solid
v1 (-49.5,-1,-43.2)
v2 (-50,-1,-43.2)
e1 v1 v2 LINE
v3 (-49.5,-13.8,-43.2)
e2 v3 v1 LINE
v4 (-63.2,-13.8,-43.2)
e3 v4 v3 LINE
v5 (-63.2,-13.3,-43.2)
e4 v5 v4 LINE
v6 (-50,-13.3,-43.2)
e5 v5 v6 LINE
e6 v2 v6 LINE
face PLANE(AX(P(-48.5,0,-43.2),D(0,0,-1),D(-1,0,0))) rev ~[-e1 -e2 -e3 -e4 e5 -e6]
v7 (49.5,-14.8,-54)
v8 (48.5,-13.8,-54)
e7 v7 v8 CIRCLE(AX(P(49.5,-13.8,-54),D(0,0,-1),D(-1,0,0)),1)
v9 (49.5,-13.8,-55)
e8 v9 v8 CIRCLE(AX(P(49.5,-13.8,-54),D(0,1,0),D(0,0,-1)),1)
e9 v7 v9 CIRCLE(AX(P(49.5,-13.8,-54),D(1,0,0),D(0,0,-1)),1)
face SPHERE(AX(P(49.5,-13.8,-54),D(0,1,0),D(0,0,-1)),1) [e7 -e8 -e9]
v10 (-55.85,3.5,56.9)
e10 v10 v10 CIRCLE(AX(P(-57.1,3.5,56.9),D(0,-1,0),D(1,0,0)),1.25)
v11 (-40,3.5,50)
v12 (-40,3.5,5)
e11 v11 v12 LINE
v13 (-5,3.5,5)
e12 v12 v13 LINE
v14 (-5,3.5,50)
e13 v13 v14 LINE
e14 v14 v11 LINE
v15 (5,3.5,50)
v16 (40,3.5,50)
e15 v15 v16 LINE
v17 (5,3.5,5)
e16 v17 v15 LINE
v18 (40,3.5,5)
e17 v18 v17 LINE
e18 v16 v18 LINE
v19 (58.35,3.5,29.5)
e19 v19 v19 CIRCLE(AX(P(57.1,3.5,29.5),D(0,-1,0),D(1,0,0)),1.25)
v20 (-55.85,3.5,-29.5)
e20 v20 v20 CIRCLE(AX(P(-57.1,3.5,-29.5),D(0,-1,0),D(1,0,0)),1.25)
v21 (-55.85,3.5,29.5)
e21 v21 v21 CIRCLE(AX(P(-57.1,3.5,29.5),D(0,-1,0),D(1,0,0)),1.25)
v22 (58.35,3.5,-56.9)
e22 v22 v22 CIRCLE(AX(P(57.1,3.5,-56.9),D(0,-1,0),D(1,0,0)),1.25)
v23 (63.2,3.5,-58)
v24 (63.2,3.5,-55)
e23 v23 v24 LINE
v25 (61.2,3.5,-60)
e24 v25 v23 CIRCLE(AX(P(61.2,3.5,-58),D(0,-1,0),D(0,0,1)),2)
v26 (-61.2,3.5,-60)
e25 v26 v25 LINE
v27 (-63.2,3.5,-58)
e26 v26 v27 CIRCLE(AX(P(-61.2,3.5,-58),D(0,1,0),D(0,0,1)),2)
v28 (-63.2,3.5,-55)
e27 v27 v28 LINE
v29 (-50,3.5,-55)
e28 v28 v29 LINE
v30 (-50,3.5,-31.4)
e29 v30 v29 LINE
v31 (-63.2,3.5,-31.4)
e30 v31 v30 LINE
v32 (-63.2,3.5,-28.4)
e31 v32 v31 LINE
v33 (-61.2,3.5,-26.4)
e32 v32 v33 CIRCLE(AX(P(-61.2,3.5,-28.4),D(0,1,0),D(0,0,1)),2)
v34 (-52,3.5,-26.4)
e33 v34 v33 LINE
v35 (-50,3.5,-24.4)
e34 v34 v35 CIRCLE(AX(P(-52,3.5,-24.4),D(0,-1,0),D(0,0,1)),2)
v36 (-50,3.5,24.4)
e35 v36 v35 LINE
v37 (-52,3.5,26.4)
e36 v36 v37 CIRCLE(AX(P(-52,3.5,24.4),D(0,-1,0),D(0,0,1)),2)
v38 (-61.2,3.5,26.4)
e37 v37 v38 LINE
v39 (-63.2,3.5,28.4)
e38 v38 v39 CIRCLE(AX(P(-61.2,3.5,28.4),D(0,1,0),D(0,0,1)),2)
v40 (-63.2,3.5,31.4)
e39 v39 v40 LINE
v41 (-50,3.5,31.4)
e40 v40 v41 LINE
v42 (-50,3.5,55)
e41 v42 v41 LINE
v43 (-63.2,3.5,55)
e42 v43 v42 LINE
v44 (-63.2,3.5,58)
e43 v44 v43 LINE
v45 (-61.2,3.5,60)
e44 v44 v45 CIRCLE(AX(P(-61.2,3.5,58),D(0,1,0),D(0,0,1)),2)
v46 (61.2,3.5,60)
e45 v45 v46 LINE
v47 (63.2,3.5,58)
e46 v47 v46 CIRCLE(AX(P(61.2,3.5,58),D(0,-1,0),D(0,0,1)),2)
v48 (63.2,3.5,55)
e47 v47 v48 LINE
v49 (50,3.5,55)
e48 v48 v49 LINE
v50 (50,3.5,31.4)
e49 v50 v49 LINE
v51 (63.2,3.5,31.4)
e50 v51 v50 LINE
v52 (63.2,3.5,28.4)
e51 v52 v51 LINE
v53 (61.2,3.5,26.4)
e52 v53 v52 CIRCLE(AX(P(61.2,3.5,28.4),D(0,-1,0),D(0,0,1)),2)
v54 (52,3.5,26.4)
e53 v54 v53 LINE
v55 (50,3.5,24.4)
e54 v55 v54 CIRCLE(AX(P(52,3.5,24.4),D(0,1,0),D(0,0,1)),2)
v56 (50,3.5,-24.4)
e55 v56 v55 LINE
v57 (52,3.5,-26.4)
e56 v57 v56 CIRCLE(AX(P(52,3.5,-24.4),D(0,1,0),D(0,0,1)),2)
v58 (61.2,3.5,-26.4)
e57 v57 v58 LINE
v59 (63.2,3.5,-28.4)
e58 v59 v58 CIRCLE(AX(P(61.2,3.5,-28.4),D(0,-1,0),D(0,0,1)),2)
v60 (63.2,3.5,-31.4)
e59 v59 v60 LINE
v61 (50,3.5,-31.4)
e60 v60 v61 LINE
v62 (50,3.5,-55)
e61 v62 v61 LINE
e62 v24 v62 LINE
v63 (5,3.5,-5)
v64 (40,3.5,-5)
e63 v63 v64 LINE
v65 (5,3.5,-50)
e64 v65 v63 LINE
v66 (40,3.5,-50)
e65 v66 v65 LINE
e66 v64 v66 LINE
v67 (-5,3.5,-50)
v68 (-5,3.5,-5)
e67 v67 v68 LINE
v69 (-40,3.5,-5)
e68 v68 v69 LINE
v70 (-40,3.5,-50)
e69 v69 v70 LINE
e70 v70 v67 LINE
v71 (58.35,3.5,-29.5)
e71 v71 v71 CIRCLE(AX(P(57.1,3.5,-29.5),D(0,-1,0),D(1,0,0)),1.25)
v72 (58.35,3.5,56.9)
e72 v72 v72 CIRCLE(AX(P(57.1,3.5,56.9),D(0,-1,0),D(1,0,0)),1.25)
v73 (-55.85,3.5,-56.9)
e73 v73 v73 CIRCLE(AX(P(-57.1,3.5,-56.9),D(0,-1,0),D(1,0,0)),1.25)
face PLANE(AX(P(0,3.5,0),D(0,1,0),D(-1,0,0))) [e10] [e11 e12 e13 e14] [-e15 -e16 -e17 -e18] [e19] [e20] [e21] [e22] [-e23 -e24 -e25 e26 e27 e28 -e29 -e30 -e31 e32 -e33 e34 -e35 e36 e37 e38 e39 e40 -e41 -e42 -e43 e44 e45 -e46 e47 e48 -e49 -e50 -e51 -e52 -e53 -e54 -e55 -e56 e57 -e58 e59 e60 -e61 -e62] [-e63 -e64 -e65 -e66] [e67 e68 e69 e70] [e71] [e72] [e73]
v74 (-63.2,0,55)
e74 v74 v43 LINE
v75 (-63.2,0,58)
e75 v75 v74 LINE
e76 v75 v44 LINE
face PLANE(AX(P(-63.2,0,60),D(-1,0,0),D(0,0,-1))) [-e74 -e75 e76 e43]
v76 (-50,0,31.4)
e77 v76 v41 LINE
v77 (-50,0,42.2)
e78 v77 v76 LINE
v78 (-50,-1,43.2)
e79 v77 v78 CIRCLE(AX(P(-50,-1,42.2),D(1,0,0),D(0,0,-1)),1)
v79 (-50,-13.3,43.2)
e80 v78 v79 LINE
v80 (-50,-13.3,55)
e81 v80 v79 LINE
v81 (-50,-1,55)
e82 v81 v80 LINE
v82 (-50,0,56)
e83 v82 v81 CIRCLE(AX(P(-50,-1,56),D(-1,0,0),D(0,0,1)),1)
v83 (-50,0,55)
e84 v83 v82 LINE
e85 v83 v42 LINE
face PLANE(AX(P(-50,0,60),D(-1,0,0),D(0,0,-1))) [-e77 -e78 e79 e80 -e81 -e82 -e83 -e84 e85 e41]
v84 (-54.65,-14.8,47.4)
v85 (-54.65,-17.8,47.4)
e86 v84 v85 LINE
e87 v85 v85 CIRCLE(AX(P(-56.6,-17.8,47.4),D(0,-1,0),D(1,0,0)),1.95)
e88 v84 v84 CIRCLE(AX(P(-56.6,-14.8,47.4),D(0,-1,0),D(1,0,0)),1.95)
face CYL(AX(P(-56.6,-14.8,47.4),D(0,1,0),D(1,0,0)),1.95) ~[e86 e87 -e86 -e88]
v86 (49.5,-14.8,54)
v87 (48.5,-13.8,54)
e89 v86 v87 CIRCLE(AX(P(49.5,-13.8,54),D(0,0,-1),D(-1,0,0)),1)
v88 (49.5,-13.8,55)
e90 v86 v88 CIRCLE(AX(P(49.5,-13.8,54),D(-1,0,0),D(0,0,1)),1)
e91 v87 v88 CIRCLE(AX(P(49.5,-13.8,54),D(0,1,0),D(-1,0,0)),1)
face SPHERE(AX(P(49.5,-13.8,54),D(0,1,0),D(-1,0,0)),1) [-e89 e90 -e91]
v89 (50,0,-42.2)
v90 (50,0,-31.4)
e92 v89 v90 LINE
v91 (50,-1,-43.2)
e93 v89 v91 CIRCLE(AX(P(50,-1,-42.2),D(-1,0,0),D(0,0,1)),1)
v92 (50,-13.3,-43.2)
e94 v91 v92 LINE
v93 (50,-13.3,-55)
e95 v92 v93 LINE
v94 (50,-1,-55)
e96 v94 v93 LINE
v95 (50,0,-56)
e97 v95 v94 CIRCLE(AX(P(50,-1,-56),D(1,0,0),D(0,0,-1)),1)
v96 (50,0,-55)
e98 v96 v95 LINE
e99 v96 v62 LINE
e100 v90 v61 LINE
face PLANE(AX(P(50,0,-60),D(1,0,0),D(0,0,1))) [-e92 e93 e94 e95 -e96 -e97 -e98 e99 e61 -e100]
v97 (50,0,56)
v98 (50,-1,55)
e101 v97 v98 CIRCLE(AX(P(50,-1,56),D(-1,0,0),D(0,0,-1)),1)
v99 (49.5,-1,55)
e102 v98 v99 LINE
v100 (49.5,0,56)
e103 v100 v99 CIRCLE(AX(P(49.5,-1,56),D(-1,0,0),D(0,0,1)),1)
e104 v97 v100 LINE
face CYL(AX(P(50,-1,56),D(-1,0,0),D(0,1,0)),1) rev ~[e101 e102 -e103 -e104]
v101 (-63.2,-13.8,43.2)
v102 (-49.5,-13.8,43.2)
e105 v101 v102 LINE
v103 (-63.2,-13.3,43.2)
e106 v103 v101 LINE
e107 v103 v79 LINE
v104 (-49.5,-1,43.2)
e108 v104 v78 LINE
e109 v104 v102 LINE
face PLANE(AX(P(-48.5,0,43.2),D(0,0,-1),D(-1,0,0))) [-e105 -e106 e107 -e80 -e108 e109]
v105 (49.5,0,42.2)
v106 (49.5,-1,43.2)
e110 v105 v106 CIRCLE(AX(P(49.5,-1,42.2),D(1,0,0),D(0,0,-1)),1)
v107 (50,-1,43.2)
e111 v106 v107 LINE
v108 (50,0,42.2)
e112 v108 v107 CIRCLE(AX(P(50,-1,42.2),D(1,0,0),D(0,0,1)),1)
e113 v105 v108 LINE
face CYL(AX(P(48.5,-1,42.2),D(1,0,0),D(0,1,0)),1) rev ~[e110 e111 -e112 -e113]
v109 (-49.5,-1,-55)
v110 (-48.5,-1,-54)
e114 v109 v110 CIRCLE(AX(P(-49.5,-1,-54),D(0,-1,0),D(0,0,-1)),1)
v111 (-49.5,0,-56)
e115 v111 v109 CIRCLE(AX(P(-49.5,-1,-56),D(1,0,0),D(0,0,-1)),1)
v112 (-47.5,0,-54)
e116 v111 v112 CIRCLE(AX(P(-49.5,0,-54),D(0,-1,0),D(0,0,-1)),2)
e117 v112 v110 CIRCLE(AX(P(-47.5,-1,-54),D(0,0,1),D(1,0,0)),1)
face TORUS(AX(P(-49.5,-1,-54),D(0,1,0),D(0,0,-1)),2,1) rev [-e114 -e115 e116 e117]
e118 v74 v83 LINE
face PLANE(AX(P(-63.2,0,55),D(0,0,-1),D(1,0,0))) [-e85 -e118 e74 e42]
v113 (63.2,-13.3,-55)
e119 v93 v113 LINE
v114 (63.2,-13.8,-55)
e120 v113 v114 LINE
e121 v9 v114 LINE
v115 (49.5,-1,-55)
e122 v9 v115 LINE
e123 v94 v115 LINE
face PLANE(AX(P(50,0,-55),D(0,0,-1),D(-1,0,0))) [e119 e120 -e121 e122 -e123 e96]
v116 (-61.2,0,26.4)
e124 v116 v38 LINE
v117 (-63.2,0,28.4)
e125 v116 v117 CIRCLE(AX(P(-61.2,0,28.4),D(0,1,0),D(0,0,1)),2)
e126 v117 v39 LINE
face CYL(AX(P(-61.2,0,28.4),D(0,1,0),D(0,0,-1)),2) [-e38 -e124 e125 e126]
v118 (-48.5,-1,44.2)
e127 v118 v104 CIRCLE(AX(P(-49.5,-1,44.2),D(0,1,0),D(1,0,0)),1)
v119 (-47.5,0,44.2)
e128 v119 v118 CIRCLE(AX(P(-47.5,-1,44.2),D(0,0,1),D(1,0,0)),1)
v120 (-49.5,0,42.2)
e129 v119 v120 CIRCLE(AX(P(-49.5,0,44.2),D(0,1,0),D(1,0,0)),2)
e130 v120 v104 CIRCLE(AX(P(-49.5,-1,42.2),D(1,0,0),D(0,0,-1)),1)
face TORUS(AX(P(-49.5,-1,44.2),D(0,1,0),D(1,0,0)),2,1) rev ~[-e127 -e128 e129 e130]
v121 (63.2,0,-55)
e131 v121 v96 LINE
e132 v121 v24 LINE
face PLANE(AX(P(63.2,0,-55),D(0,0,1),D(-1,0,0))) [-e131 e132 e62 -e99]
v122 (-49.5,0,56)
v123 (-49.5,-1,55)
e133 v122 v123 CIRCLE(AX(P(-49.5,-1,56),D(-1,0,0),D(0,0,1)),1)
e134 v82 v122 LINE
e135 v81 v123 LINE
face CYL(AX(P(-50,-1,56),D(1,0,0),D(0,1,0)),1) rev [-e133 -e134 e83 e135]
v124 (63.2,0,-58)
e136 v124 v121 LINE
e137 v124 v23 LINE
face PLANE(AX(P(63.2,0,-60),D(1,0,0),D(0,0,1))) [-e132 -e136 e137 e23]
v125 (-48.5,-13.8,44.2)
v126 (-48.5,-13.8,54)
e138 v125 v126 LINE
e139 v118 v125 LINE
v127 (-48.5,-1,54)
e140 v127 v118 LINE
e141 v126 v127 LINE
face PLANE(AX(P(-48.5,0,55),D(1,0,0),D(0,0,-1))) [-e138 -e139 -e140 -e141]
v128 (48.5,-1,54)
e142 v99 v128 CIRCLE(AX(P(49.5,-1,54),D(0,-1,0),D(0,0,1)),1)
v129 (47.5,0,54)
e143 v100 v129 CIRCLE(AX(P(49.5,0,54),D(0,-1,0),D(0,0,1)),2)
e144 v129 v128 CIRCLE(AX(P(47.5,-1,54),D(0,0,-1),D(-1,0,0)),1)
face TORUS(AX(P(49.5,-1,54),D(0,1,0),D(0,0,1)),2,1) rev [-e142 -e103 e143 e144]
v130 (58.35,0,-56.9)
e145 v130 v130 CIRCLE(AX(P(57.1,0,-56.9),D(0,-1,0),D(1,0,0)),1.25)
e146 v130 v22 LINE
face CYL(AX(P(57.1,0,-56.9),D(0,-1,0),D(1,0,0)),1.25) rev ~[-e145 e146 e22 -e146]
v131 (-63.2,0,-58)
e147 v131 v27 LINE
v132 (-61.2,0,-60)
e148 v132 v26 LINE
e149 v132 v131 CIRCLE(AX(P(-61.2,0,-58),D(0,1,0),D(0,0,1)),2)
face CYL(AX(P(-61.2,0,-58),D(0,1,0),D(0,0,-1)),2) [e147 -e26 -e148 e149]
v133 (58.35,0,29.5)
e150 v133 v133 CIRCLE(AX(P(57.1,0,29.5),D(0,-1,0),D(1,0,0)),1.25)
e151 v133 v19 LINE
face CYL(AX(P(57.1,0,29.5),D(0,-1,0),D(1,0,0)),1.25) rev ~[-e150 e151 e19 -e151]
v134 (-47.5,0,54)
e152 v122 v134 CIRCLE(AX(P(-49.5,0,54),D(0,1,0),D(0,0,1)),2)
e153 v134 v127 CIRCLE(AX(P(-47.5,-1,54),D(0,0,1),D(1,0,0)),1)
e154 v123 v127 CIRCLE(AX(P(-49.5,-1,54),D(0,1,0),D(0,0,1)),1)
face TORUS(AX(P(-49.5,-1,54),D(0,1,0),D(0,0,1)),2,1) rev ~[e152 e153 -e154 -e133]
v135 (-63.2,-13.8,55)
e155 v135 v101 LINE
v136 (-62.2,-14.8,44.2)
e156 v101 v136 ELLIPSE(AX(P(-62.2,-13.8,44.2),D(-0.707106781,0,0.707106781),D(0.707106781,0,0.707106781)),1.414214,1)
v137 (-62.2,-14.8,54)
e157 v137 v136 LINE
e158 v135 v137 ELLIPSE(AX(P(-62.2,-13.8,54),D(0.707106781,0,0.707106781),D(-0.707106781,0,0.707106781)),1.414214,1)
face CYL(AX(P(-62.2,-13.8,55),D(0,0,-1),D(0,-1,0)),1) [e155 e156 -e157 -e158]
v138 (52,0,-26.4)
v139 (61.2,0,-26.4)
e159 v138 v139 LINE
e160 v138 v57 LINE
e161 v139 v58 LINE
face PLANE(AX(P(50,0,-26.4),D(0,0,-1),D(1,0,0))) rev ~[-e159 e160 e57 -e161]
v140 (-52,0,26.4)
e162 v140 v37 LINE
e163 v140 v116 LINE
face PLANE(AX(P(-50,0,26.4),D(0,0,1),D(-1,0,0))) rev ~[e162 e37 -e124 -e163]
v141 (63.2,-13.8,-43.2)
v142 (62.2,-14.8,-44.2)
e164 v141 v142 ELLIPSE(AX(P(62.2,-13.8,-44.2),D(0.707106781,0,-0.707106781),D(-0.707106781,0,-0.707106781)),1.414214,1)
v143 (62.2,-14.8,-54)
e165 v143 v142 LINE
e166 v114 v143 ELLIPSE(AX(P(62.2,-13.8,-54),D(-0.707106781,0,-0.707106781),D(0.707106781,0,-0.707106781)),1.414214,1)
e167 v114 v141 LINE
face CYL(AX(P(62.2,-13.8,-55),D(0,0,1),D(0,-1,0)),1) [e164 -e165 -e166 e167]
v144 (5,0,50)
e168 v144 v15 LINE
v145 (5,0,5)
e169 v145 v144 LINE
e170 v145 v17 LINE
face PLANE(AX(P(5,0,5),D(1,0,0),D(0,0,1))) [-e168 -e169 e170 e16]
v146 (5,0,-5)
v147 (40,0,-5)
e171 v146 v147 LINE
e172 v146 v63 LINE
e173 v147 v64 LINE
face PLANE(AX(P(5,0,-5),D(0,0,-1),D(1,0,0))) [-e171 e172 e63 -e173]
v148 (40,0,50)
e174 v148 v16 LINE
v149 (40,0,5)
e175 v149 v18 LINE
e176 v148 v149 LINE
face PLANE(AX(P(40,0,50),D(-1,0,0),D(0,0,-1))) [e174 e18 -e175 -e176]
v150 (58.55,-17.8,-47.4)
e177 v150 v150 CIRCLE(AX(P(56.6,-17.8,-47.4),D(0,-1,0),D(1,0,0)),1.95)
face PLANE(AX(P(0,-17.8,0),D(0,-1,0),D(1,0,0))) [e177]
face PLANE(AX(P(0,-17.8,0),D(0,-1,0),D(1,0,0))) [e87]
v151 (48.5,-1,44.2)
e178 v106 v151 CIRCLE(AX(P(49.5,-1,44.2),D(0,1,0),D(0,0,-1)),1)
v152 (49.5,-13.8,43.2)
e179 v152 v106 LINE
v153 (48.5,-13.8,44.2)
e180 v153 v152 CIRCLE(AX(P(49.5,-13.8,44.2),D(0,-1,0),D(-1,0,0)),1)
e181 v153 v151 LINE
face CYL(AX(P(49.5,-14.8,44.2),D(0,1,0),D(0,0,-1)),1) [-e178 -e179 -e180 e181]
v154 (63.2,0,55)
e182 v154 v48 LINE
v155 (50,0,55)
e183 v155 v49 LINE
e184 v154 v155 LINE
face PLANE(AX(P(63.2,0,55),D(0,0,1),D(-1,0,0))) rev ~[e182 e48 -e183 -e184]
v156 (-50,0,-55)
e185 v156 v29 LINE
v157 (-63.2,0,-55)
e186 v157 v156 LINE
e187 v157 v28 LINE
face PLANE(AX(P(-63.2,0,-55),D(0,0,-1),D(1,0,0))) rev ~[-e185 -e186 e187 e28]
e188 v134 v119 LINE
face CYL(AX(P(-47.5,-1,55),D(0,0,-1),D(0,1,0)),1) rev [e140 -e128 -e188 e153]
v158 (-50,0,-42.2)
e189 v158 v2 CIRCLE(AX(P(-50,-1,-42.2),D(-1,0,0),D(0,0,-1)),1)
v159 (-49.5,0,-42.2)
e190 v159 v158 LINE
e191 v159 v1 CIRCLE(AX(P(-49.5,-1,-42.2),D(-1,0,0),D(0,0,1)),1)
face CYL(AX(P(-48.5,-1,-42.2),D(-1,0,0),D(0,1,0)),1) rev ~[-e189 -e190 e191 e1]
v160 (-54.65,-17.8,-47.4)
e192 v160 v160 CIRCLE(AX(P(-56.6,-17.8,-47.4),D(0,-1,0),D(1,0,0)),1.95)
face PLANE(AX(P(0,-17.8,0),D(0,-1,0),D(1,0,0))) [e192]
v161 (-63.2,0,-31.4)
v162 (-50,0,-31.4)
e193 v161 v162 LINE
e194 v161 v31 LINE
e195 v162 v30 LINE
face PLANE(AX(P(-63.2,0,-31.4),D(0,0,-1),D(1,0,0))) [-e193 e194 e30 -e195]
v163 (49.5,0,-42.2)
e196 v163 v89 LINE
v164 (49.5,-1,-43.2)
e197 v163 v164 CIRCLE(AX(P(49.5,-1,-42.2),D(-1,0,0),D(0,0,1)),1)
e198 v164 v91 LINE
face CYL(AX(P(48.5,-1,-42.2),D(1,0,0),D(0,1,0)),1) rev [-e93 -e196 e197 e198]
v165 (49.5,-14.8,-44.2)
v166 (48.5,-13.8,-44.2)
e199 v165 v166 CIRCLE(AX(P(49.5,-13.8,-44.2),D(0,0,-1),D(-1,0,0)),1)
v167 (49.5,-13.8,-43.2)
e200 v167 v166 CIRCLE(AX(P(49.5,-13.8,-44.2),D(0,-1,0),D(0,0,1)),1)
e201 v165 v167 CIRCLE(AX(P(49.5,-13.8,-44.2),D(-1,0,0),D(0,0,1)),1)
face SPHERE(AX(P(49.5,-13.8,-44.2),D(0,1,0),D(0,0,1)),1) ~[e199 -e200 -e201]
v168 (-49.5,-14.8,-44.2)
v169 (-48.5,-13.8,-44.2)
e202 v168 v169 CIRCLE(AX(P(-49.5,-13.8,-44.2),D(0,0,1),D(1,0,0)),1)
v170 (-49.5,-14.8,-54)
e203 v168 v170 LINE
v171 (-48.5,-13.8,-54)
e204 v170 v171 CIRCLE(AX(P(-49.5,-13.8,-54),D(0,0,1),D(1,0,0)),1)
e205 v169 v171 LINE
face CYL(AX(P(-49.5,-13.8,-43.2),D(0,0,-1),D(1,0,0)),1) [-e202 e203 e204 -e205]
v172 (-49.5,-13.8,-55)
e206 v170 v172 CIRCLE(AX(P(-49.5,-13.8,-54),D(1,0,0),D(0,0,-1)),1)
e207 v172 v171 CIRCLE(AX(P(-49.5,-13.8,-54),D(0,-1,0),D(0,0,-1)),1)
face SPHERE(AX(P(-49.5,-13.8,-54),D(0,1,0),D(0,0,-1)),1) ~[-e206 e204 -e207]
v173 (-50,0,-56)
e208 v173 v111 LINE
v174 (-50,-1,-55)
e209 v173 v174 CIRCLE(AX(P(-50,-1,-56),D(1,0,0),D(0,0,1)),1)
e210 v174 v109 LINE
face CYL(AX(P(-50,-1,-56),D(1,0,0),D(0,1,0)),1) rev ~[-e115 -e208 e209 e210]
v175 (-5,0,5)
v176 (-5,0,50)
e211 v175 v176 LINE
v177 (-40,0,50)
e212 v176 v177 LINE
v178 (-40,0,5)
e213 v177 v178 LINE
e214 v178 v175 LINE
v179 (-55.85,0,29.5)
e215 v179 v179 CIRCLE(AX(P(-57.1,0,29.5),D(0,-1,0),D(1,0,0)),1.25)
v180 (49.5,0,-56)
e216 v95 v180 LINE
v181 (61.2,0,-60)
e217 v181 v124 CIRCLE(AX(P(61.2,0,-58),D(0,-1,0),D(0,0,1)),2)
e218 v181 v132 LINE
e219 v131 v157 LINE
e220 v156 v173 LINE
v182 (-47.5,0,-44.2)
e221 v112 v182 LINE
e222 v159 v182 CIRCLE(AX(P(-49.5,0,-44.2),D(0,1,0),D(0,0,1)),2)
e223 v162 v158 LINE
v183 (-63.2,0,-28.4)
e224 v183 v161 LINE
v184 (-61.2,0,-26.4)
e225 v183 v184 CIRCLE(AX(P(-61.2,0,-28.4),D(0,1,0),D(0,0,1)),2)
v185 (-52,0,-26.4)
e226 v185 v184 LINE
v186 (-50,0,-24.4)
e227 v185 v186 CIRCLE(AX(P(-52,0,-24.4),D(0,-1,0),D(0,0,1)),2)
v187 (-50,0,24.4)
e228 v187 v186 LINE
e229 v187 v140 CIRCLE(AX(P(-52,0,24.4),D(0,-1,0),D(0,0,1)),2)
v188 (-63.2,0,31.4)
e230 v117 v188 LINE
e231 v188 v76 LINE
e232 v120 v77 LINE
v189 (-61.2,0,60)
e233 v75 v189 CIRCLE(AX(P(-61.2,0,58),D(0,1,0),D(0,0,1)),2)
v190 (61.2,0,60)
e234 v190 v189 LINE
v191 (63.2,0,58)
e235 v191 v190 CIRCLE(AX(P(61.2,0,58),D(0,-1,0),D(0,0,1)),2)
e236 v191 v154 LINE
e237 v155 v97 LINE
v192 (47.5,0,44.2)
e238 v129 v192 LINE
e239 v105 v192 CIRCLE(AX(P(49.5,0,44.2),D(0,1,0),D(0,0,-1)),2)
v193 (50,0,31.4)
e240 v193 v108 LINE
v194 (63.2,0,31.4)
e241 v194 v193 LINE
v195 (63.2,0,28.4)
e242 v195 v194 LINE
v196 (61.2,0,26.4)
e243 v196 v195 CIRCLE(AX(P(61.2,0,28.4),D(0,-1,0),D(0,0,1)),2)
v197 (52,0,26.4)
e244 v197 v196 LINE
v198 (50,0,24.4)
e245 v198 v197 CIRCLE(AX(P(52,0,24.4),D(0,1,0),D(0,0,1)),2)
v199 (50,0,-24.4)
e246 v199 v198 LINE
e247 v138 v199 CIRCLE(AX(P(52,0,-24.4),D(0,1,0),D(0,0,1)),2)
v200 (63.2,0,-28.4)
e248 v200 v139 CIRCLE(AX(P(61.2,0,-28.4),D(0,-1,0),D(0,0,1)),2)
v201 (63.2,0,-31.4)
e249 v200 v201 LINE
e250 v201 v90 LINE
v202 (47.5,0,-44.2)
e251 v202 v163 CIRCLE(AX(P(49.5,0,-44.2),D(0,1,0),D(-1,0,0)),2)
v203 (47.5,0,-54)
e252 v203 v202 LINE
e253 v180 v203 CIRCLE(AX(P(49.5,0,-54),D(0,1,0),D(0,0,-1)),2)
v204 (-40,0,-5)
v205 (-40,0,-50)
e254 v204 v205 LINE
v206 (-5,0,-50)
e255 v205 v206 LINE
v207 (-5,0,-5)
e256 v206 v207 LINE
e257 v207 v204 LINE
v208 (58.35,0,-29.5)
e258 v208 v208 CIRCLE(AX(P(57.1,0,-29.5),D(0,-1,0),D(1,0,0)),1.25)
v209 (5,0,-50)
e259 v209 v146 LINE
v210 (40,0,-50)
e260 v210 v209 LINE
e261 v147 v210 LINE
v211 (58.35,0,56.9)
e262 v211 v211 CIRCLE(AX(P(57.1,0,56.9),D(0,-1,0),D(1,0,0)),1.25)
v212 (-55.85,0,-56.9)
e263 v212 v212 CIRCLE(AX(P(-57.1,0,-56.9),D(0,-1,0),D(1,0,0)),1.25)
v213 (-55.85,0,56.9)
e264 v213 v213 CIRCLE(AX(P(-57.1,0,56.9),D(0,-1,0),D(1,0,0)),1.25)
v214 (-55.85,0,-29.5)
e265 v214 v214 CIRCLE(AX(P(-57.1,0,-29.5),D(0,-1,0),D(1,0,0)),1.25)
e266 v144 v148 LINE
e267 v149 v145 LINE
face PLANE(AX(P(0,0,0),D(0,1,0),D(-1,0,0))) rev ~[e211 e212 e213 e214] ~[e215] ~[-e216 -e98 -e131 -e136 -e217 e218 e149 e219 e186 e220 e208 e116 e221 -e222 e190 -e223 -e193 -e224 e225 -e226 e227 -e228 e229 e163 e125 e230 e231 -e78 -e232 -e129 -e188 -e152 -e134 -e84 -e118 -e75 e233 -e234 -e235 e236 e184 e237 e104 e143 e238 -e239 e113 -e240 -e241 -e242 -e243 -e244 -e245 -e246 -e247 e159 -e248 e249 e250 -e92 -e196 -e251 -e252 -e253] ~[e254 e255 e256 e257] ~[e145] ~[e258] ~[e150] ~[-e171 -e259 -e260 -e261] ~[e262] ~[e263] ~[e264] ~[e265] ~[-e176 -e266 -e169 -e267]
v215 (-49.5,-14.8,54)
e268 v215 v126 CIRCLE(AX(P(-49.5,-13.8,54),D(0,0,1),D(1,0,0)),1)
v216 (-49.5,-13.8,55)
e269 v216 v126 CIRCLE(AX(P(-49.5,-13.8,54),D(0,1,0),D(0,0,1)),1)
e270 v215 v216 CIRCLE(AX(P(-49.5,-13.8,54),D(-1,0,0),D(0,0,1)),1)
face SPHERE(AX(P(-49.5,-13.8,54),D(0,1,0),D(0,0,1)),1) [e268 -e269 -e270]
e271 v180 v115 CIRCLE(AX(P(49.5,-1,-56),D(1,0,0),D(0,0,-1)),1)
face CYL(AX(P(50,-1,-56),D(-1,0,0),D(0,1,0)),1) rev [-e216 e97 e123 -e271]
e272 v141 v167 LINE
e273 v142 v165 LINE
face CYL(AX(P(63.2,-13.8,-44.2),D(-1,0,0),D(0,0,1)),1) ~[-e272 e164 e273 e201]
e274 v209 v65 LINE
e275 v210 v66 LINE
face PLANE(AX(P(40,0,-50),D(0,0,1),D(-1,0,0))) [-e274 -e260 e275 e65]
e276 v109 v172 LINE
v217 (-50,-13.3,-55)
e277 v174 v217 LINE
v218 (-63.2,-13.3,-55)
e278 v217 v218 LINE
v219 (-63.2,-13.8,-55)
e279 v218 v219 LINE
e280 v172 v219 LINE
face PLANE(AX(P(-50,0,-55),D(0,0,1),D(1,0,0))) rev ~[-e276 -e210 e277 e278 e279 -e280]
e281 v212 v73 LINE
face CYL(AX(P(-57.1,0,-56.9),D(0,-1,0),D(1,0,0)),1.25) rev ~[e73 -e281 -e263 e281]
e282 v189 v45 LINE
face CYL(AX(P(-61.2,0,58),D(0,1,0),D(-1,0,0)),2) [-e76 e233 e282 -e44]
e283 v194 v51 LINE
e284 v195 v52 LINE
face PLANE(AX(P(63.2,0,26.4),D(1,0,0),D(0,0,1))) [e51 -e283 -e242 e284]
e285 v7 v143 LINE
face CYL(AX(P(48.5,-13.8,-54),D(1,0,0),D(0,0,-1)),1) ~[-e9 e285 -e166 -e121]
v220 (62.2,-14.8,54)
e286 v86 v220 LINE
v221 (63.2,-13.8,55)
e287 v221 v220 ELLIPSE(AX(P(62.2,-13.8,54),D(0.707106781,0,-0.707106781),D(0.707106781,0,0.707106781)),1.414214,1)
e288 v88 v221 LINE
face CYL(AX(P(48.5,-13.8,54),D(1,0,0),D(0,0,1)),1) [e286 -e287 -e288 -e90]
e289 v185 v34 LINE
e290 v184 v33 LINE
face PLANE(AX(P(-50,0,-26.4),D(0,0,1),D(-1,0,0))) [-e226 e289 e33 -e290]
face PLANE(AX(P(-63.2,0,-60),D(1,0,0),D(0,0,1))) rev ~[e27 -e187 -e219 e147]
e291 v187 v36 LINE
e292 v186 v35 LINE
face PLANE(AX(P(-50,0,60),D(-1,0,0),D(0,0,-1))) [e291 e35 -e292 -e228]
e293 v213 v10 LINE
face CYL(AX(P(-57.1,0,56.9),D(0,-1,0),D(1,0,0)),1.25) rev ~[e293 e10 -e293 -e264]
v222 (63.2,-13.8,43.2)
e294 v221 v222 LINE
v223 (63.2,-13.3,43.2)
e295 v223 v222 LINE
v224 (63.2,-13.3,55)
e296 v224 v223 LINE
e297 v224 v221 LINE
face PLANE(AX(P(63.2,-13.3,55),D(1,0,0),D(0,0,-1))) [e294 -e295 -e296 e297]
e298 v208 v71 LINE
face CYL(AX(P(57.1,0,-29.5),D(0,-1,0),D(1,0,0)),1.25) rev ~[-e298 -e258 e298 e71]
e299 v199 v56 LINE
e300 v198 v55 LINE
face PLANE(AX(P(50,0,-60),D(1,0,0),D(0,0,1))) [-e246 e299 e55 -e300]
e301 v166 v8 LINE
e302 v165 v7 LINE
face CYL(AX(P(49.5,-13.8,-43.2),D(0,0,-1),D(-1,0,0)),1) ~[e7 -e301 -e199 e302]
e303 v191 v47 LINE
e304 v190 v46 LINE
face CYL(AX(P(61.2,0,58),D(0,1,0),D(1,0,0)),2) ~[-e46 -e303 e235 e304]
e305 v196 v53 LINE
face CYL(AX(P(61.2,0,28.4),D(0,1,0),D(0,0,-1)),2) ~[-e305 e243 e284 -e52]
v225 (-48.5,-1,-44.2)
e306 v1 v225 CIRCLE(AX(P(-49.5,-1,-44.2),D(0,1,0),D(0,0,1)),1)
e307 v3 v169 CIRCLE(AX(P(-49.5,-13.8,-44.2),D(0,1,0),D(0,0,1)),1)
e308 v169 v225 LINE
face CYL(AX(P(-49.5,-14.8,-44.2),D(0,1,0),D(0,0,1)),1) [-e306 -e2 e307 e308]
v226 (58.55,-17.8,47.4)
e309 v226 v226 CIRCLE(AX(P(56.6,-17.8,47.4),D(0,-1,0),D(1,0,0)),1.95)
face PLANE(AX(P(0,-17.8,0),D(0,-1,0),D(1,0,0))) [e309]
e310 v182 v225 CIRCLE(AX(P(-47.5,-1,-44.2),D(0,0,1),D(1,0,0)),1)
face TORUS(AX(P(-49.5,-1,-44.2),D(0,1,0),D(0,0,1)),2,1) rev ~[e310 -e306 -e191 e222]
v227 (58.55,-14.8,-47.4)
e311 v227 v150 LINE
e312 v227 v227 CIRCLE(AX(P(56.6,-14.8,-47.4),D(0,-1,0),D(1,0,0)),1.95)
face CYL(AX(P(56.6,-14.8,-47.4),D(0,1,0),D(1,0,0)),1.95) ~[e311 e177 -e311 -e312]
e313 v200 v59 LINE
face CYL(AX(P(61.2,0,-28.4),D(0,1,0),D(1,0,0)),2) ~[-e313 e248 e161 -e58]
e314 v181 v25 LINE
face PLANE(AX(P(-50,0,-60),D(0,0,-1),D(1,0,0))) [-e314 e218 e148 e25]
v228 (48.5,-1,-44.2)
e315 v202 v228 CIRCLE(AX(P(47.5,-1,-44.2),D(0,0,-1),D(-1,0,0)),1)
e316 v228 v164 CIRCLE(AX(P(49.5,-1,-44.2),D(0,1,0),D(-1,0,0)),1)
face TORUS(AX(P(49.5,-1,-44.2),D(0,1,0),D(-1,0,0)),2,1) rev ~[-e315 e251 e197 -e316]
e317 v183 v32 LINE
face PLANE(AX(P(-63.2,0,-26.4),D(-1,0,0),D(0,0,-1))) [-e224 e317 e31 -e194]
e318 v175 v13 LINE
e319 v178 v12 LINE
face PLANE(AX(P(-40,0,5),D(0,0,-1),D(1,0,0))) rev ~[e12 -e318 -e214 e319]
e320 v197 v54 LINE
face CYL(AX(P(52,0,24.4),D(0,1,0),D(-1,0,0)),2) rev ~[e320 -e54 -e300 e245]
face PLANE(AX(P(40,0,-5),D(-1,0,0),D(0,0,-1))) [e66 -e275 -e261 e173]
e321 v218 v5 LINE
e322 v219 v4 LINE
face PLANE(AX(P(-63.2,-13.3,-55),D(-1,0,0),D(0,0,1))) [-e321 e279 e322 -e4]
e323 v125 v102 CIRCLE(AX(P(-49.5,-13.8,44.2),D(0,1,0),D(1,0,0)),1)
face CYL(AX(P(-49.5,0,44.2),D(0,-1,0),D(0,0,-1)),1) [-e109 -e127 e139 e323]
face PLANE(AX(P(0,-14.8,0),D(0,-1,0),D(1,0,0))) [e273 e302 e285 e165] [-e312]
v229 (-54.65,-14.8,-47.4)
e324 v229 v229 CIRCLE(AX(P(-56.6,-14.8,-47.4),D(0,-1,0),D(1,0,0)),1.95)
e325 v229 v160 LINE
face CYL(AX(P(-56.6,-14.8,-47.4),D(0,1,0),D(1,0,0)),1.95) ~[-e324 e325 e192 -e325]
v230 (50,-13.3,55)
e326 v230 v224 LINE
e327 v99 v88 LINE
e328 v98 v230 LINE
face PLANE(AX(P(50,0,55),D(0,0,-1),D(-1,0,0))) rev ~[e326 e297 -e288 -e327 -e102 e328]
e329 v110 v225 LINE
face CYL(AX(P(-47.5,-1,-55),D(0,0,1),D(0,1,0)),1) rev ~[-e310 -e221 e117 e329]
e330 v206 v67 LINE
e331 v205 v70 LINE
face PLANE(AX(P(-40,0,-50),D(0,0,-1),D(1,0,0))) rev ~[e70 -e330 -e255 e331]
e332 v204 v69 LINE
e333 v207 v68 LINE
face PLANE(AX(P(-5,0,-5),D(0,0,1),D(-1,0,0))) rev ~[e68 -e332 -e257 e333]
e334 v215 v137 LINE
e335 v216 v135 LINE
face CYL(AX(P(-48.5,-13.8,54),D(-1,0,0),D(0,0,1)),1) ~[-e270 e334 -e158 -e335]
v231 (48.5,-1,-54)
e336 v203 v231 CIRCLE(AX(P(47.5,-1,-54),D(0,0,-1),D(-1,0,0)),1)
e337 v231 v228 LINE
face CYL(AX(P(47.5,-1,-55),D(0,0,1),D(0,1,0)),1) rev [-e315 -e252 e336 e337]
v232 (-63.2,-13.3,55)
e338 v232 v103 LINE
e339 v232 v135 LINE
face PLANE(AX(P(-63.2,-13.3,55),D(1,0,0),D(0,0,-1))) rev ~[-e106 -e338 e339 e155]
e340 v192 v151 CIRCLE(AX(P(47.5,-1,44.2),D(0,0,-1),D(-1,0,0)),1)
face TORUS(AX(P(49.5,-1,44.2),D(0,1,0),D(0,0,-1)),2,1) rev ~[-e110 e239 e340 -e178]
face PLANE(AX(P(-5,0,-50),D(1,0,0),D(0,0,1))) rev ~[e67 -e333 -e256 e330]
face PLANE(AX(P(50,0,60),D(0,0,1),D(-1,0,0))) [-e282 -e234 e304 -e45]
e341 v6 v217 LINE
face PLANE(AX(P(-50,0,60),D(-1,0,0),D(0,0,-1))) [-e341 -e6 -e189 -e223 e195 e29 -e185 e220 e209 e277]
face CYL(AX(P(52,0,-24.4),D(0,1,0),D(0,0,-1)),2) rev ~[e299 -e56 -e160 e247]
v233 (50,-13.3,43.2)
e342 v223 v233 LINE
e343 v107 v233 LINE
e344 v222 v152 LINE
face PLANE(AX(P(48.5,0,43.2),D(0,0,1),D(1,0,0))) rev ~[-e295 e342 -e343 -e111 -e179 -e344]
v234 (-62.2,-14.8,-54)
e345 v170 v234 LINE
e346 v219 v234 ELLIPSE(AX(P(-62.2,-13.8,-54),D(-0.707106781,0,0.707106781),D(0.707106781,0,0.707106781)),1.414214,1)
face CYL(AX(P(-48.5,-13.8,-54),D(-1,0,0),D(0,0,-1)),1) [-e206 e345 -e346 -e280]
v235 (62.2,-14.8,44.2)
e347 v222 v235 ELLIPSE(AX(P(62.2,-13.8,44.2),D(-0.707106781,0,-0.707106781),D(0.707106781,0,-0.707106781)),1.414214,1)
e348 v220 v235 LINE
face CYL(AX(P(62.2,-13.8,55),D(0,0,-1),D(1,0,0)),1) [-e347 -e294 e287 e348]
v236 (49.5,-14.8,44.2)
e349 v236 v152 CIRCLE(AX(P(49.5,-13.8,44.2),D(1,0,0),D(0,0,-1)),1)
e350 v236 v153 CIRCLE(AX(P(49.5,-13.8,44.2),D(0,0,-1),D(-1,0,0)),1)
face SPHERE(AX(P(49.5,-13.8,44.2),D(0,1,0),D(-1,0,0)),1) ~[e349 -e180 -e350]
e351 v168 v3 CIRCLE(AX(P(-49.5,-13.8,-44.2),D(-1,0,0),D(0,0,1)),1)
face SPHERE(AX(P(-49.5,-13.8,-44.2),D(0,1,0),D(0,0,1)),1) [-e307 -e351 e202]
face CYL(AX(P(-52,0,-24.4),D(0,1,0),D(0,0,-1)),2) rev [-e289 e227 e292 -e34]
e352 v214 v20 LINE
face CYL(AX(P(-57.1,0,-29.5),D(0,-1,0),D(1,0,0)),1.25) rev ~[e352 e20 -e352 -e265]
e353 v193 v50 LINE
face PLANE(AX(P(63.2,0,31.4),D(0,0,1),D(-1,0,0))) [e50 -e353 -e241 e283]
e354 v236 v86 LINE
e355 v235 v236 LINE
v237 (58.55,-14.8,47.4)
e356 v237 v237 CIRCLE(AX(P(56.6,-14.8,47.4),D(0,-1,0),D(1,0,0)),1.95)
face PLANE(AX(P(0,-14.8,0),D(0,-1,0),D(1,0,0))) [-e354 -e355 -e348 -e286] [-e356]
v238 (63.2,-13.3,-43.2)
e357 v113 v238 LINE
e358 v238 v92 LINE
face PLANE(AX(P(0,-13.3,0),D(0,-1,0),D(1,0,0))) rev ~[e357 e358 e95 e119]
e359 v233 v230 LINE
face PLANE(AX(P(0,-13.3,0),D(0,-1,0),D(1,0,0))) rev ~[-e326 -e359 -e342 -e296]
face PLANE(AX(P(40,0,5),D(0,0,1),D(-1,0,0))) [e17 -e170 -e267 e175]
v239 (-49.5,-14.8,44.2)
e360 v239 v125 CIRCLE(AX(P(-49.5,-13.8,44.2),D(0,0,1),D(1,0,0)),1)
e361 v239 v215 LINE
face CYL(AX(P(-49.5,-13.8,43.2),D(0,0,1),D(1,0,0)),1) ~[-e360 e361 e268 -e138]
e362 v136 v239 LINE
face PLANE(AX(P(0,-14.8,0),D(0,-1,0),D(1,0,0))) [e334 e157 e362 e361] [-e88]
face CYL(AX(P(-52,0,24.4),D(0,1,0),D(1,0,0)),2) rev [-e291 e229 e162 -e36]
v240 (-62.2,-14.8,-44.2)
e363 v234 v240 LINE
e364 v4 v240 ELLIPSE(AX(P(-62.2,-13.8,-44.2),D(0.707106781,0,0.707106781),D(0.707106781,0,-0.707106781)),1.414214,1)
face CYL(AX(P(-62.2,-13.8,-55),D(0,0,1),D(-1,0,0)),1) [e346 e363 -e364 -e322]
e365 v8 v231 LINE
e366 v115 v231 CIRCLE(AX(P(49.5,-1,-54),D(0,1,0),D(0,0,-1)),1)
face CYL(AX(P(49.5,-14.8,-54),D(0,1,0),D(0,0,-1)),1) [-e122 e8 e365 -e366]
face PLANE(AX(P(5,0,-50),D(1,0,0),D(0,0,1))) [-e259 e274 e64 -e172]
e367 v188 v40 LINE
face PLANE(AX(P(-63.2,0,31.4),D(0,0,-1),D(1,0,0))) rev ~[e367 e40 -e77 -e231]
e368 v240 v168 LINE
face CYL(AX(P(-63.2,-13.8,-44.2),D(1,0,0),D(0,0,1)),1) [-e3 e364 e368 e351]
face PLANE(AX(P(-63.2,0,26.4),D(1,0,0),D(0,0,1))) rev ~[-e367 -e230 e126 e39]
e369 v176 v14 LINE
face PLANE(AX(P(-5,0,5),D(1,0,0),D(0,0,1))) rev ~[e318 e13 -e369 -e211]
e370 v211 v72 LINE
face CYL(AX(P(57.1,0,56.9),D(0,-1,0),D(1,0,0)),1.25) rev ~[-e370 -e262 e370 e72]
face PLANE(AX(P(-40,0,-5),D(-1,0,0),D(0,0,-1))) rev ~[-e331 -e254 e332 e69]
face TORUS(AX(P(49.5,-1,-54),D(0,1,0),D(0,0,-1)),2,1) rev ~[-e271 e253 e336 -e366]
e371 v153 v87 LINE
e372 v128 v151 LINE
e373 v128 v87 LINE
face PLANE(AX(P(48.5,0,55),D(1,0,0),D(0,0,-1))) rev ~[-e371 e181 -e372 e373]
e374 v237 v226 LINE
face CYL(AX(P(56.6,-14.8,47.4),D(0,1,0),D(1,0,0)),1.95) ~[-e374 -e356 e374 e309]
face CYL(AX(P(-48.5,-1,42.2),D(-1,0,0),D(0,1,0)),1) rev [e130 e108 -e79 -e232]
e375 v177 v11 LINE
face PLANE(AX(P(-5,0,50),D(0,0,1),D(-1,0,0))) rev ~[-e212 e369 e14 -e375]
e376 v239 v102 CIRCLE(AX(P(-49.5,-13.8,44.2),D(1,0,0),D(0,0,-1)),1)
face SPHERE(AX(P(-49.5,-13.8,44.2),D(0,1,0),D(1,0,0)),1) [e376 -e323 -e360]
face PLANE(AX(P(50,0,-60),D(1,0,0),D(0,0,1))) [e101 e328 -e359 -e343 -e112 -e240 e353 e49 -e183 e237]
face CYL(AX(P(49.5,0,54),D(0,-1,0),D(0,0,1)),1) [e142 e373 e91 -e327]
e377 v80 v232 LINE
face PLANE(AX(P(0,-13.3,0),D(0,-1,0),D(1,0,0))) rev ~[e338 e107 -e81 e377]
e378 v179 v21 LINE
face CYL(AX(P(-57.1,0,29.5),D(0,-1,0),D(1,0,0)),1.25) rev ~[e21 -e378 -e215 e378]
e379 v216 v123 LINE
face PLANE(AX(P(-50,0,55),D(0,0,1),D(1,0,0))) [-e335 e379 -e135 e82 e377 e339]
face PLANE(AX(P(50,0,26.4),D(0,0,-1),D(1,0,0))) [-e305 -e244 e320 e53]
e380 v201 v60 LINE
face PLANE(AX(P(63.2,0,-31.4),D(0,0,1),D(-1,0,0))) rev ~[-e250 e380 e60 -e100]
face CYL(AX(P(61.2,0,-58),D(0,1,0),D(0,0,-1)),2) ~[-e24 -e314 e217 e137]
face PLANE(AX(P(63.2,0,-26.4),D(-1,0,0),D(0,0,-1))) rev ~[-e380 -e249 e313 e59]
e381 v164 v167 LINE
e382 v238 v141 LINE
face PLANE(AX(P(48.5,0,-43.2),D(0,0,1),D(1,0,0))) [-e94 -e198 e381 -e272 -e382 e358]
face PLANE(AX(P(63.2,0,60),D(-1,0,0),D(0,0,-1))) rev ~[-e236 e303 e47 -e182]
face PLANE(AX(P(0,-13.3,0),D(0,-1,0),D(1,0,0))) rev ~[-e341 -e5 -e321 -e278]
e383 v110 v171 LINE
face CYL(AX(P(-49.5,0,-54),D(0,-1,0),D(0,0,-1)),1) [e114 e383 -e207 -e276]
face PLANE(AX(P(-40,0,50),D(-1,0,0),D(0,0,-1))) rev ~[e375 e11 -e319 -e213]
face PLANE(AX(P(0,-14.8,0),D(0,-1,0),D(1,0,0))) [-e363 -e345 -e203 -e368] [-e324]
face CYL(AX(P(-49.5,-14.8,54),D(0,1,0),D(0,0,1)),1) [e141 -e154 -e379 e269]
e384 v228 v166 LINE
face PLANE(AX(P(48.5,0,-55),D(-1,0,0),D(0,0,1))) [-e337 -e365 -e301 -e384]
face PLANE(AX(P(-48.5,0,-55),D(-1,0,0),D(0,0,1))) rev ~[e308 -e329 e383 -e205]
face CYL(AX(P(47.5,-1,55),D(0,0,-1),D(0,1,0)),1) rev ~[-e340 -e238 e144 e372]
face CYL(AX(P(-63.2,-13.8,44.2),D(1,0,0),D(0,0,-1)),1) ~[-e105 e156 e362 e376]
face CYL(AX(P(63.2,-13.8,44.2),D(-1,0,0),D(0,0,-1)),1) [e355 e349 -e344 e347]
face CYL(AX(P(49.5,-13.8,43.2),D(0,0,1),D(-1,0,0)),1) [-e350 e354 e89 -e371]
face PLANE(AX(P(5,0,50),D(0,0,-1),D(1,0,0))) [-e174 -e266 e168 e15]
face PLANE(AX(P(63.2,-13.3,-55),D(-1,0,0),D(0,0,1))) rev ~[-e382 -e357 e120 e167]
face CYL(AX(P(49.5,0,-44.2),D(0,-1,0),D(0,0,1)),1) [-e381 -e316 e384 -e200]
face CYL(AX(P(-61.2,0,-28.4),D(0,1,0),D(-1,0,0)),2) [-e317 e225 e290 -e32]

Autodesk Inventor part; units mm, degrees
ref_plane "YZ Plane" through (0, 0, 0) normal (1, 0, 0) x (0, 1, 0)
ref_plane "XZ Plane" through (0, 0, 0) normal (0, 1, 0) x (-1, 0, 0)
ref_plane "XY Plane" through (0, 0, 0) normal (0, 0, 1) x (1, 0, 0)
sketch "Szkic1" plane through (0, 0, 0) normal (0, 1, 0) x (-1, 0, 0)
  line L0 (0, 0) -> (50, 0) construction
  line L1 (50, 0) -> (50, -60) construction
  line L2 (50, -60) -> (0, -60) construction
  line L3 (0, -60) -> (0, 0) construction
  line L4 (50, -60) -> (20, -60) construction
  line L5 (20, -60) -> (20, -30) construction
  line L6 (20, -30) -> (50, -30) construction
  line L7 (50, -30) -> (50, -60) construction
  line L8 (20, -30) -> (76.5685, -86.5685) construction
  line L9 (20, -30) -> (100, -30) construction
  line L10 (50, -60) -> (-50, -60)
  line L11 (-50, -60) -> (-50, 60)
  line L12 (-50, 60) -> (50, 60)
  line L13 (50, 60) -> (50, -60)
  dimension "d0" = 50
  dimension "d1" = 60
  dimension "d2" = 30
  dimension "d3" = 30
  dimension "d4" = 80
  dimension "d5" = 45
  dimension "d6" = 100
  dimension "d7" = 120
extrude "Wyciągnięcie proste1" add sketch "Szkic1" along normal blind 3.5
sketch "Szkic2" plane through (0, 0, 0) normal (0, -1, 0) x (1, 0, 0)
  line L0 (-50, 60) -> (-50, -60) construction
  line L1 (50, -60) -> (-50, -60) projected
  line L2 (-50, -60) -> (-63.2, -60)
  line L3 (-63.2, -60) -> (-63.2, -55)
  line L4 (-63.2, -55) -> (-50, -55)
  line L5 (-50, -55) -> (-50, -60)
  line L6 (-57.1, -55) -> (-57.1, -56.9) construction
  circle A0 centre (-57.1, -56.9) radius 1.25
  line L7 (-50, -55) -> (-50, -43.2) construction
  line L8 (-50, -60) -> (-50, 60) construction
  line L9 (-50, -43.2) -> (-68.7012, -43.2) construction
  line L10 (-50, -26.4) -> (-63.2, -26.4)
  line L11 (-63.2, -26.4) -> (-63.2, -31.4)
  line L12 (-63.2, -31.4) -> (-50, -31.4)
  line L13 (-50, -31.4) -> (-50, -26.4)
  line L14 (-57.1, -31.4) -> (-57.1, -29.5) construction
  circle A1 centre (-57.1, -29.5) radius 1.25
  line L15 (0, 0) -> (-82.4094, 0) construction
  line L16 (0, -60) -> (0, 60) construction
  line L17 (-50, -60) -> (-50, 60) construction
  line L18 (50, 60) -> (-50, 60)
  line L19 (-50, 60) -> (-63.2, 60)
  line L20 (-63.2, 60) -> (-63.2, 55)
  line L21 (-63.2, 55) -> (-50, 55)
  line L22 (-50, 55) -> (-50, 60)
  line L23 (-57.1, 55) -> (-57.1, 56.9) construction
  circle A2 centre (-57.1, 56.9) radius 1.25
  line L24 (-50, 55) -> (-50, 43.2) construction
  line L25 (-50, 60) -> (-50, -60) construction
  line L26 (-50, 43.2) -> (-68.7012, 43.2) construction
  line L27 (-63.2, 31.4) -> (-50, 31.4)
  line L28 (-50, 26.4) -> (-63.2, 26.4)
  line L29 (-63.2, 26.4) -> (-63.2, 31.4)
  line L30 (-57.1, 31.4) -> (-57.1, 29.5) construction
  circle A3 centre (-57.1, 29.5) radius 1.25
  line L31 (-50, 31.4) -> (-50, 26.4)
  line L32 (50, 60) -> (50, -60) construction
  line L33 (-50, -60) -> (50, -60)
  line L34 (50, -60) -> (63.2, -60)
  line L35 (63.2, -60) -> (63.2, -55)
  line L36 (63.2, -55) -> (50, -55)
  line L37 (50, -55) -> (50, -60)
  line L38 (57.1, -55) -> (57.1, -56.9) construction
  circle A4 centre (57.1, -56.9) radius 1.25
  line L39 (50, -55) -> (50, -43.2) construction
  line L40 (50, -60) -> (50, 60) construction
  line L41 (50, -43.2) -> (68.7012, -43.2) construction
  line L42 (63.2, -31.4) -> (50, -31.4)
  line L43 (50, -26.4) -> (63.2, -26.4)
  line L44 (63.2, -26.4) -> (63.2, -31.4)
  line L45 (57.1, -31.4) -> (57.1, -29.5) construction
  circle A5 centre (57.1, -29.5) radius 1.25
  line L46 (50, -31.4) -> (50, -26.4)
  line L47 (0, 0) -> (82.4094, 0) construction
  line L48 (63.2, 31.4) -> (50, 31.4)
  line L49 (57.1, 31.4) -> (57.1, 29.5) construction
  circle A6 centre (57.1, 29.5) radius 1.25
  line L50 (63.2, 26.4) -> (63.2, 31.4)
  line L51 (50, 31.4) -> (50, 26.4)
  line L52 (50, 26.4) -> (63.2, 26.4)
  line L53 (50, -60) -> (50, 60) construction
  line L54 (50, 60) -> (50, -60) construction
  line L55 (50, 43.2) -> (68.7012, 43.2) construction
  line L56 (63.2, 55) -> (50, 55)
  line L57 (50, 55) -> (50, 43.2) construction
  line L58 (57.1, 55) -> (57.1, 56.9) construction
  circle A7 centre (57.1, 56.9) radius 1.25
  line L59 (50, 60) -> (63.2, 60)
  line L60 (63.2, 60) -> (63.2, 55)
  line L61 (-50, 60) -> (50, 60)
  line L62 (50, 55) -> (50, 60)
  dimension "d41" = 13.2
  dimension "d42" = 5
  dimension "d43" = 1.9
  dimension "d44" = 2.5
  dimension "d45" = 3.1
  dimension "d46" = 11.8
  dimension "d89" = 6.1
  dimension "d90" = 13.2
  dimension "d91" = 13.2
extrude "Wyciągnięcie proste2" add sketch "Szkic2" against normal blind 3.5
sketch "Szkic3" plane through (0, 0, 0) normal (0, -1, 0) x (1, 0, 0)
  circle A0 centre (57.1, -56.9) radius 1.25 construction
  circle A1 centre (57.1, 29.5) radius 1.25 construction
  circle A2 centre (-57.1, 29.5) radius 1.25 construction
  circle A3 centre (-57.1, -56.9) radius 1.25 construction
  circle A4 centre (-57.1, -29.5) radius 1.25 construction
  circle A5 centre (-57.1, 56.9) radius 1.25 construction
  circle A6 centre (57.1, -29.5) radius 1.25 construction
  circle A7 centre (57.1, 56.9) radius 1.25 construction
  line L0 (-63.2, -60) -> (63.2, -60) construction
  line L1 (63.2, -55) -> (63.2, -60) construction
  line L2 (50, -55) -> (63.2, -55) construction
  line L3 (50, -55) -> (50, -31.4) construction
  line L4 (63.2, -31.4) -> (50, -31.4) construction
  line L5 (63.2, -26.4) -> (63.2, -31.4) construction
  line L6 (50, -26.4) -> (63.2, -26.4) construction
  line L7 (50, -26.4) -> (50, 26.4) construction
  line L8 (63.2, 26.4) -> (50, 26.4) construction
  line L9 (63.2, 31.4) -> (63.2, 26.4) construction
  line L10 (50, 31.4) -> (63.2, 31.4) construction
  line L11 (50, 31.4) -> (50, 55) construction
  line L12 (63.2, 55) -> (50, 55) construction
  line L13 (63.2, 60) -> (63.2, 55) construction
  line L14 (63.2, 60) -> (-63.2, 60) construction
  line L15 (-63.2, 60) -> (-63.2, 55) construction
  line L16 (-63.2, 55) -> (-50, 55) construction
  line L17 (-50, 55) -> (-50, 31.4) construction
  line L18 (-50, 31.4) -> (-63.2, 31.4) construction
  line L19 (-63.2, 31.4) -> (-63.2, 26.4) construction
  line L20 (-63.2, 26.4) -> (-50, 26.4) construction
  line L21 (-50, 26.4) -> (-50, -26.4) construction
  line L22 (-50, -26.4) -> (-63.2, -26.4) construction
  line L23 (-63.2, -26.4) -> (-63.2, -31.4) construction
  line L24 (-63.2, -31.4) -> (-50, -31.4) construction
  line L25 (-50, -31.4) -> (-50, -55) construction
  line L26 (-63.2, -55) -> (-50, -55) construction
  line L27 (-63.2, -60) -> (-63.2, -55) construction
  line L28 (-63.2, -60) -> (63.2, -60) construction
  line L29 (-50, 26.4) -> (-50, -26.4) construction
  line L30 (-50, 60) -> (-50, 50) construction
  line L31 (-50, 55) -> (-50, 31.4) construction
  line L32 (-50, 50) -> (50, 50) construction
  line L33 (50, 31.4) -> (50, 55) construction
  line L34 (45, 60) -> (35, 60) construction
  line L35 (50, -60) -> (50, -50) construction
  line L36 (50, -55) -> (50, -31.4) construction
  line L37 (50, -50) -> (-50, -50) construction
  line L38 (-50, -31.4) -> (-50, -55) construction
  line L39 (-50, -60) -> (-40, -60) construction
  line L40 (-40, -60) -> (-40, 60) construction
  line L41 (0, 60) -> (-5, 60) construction
  line L42 (-5, 60) -> (-5, -60) construction
  line L43 (0, 60) -> (5, 60) construction
  line L44 (5, 60) -> (5, -60) construction
  line L45 (-50, 0) -> (-50, 5) construction
  line L46 (-50, 5) -> (50, 5) construction
  line L47 (50, -26.4) -> (50, 26.4) construction
  line L48 (-50, 0) -> (-50, -5) construction
  line L49 (-50, -5) -> (50, -5) construction
  line L50 (63.2, 60) -> (-63.2, 60) construction
  line L51 (50, 60) -> (40, 60) construction
  line L52 (40, 60) -> (40, -60) construction
  line L53 (5, -5) -> (40, -5)
  line L54 (40, -5) -> (40, -50)
  line L55 (40, -50) -> (5, -50)
  line L56 (5, -50) -> (5, -5)
  line L57 (-5, -5) -> (-40, -5)
  line L58 (-40, -5) -> (-40, -50)
  line L59 (-40, -50) -> (-5, -50)
  line L60 (-5, -50) -> (-5, -5)
  line L61 (-40, 5) -> (-5, 5)
  line L62 (-5, 5) -> (-5, 50)
  line L63 (-5, 50) -> (-40, 50)
  line L64 (-40, 50) -> (-40, 5)
  line L65 (5, 50) -> (40, 50)
  line L66 (40, 50) -> (40, 5)
  line L67 (40, 5) -> (5, 5)
  line L68 (5, 5) -> (5, 50)
  dimension "d96" = 10
  dimension "d98" = 10
  dimension "d99" = 10
  dimension "d100" = 5
  dimension "d101" = 5
  dimension "d102" = 5
  dimension "d103" = 5
  dimension "d104" = 10
extrude "Wyciągnięcie proste3" cut sketch "Szkic3" against normal blind 3.5
fillet "Zaokrąglenie1" radius 2 8 edges at (-63.2, 1.75, -60) (-63.2, 1.75, -26.4) (-63.2, 1.75, 26.4) (-63.2, 1.75, 60) (63.2, 1.75, 60) (63.2, 1.75, 26.4) (63.2, 1.75, -26.4) (63.2, 1.75, -60)
fillet "Zaokrąglenie2" radius 2 4 edges at (50, 1.75, 26.4) (50, 1.75, -26.4) (-50, 1.75, -26.4) (-50, 1.75, 26.4)
sketch "Szkic4" plane through (0, 0, 0) normal (0, -1, 0) x (1, 0, 0)
  line L0 (-50, 55) -> (-50, 31.4) projected
  line L1 (-63.2, 55) -> (-50, 55) construction
  line L2 (-50, 31.4) -> (-63.2, 31.4) construction
  line L3 (-50, 31.4) -> (-50, 55) projected
  line L4 (-50, 55) -> (-48.5, 55)
  line L5 (-48.5, 55) -> (-48.5, 43.2)
  line L6 (-48.5, 43.2) -> (-50, 43.2)
  line L7 (-50, 43.2) -> (-50, 55)
  line L8 (63.2, 55) -> (50, 55) construction
  line L9 (50, 31.4) -> (50, 55) construction
  line L10 (50, 31.4) -> (63.2, 31.4) construction
  line L11 (50, -55) -> (63.2, -55) construction
  line L12 (-63.2, -55) -> (-50, -55) construction
  line L13 (50, 55) -> (48.5, 55)
  line L14 (48.5, 55) -> (48.5, 43.2)
  line L15 (48.5, 43.2) -> (50, 43.2)
  line L16 (50, 43.2) -> (50, 55)
  line L17 (-63.2, -31.4) -> (-50, -31.4) construction
  line L18 (-50, -31.4) -> (-50, -55) construction
  line L19 (-50, -55) -> (-48.5, -55)
  line L20 (-48.5, -55) -> (-48.5, -43.2)
  line L21 (-48.5, -43.2) -> (-50, -43.2)
  line L22 (-50, -43.2) -> (-50, -55)
  line L23 (50, -55) -> (50, -31.4) construction
  line L24 (63.2, -31.4) -> (50, -31.4) construction
  line L25 (50, -55) -> (48.5, -55)
  line L26 (48.5, -55) -> (48.5, -43.2)
  line L27 (48.5, -43.2) -> (50, -43.2)
  line L28 (50, -43.2) -> (50, -55)
  point P0 (0, 0)
  dimension "d64" = 1.5
  dimension "d65" = 11.8
  dimension "d66" = 1.5
  dimension "d67" = 11.8
  dimension "d106" = 1.5
  dimension "d107" = 11.8
  dimension "d108" = 1.5
  dimension "d109" = 11.8
extrude "Wyciągnięcie proste4" add sketch "Szkic4" along normal blind 13.3
sketch "Szkic5" plane through (0, -13.3, 0) normal (0, -1, 0) x (1, 0, 0)
  line L0 (-50, 55) -> (-50, 43.2) construction
  line L1 (-50, 43.2) -> (-48.5, 43.2) construction
  line L2 (-48.5, 43.2) -> (-48.5, 55) construction
  line L3 (-48.5, 55) -> (-50, 55) construction
  line L4 (50, 55) -> (48.5, 55) construction
  line L5 (48.5, 55) -> (48.5, 43.2) construction
  line L6 (48.5, 43.2) -> (50, 43.2) construction
  line L7 (50, 43.2) -> (50, 55) construction
  line L8 (50, -31.4) -> (48.5, -31.4) construction
  line L9 (48.5, -31.4) -> (48.5, -55) construction
  line L10 (48.5, -55) -> (50, -55) construction
  line L11 (50, -55) -> (50, -31.4) construction
  line L12 (-48.5, -31.4) -> (-50, -31.4) construction
  line L13 (-50, -31.4) -> (-50, -55) construction
  line L14 (-50, -55) -> (-48.5, -55) construction
  line L15 (-48.5, -55) -> (-48.5, -31.4) construction
  line L16 (63.2, 55) -> (50, 55) construction
  line L17 (-63.2, 55) -> (-50, 55) construction
  line L18 (-48.5, 55) -> (-63.2, 55)
  line L19 (-63.2, 55) -> (-63.2, 43.2)
  line L20 (-63.2, 43.2) -> (-48.5, 43.2)
  line L21 (-48.5, 43.2) -> (-48.5, 55)
  line L22 (48.5, 55) -> (63.2, 55)
  line L23 (63.2, 55) -> (63.2, 43.2)
  line L24 (63.2, 43.2) -> (48.5, 43.2)
  line L25 (48.5, 43.2) -> (48.5, 55)
  line L26 (50, -55) -> (63.2, -55) construction
  line L27 (48.5, -55) -> (50, -55) construction
  line L28 (50, -55) -> (50, -43.2) construction
  line L29 (50, -43.2) -> (48.5, -43.2) construction
  line L30 (48.5, -43.2) -> (48.5, -55) construction
  line L31 (-63.2, -55) -> (-50, -55) construction
  line L32 (-50, -55) -> (-48.5, -55) construction
  line L33 (-48.5, -55) -> (-48.5, -43.2) construction
  line L34 (-48.5, -43.2) -> (-50, -43.2) construction
  line L35 (-50, -43.2) -> (-50, -55) construction
  line L36 (-48.5, -55) -> (-63.2, -55)
  line L37 (-63.2, -55) -> (-63.2, -43.2)
  line L38 (-63.2, -43.2) -> (-48.5, -43.2)
  line L39 (-48.5, -43.2) -> (-48.5, -55)
  line L40 (48.5, -55) -> (63.2, -55)
  line L41 (63.2, -55) -> (63.2, -43.2)
  line L42 (63.2, -43.2) -> (48.5, -43.2)
  line L43 (48.5, -43.2) -> (48.5, -55)
  point P0 (0, 0)
extrude "Wyciągnięcie proste5" add sketch "Szkic5" along normal blind 1.5
sketch "Szkic6" plane through (0, -14.8, 0) normal (0, -1, 0) x (1, 0, 0)
  line L0 (-50, 55) -> (-50, 43.2) construction
  line L1 (-48.5, 55) -> (-63.2, 55) construction
  line L2 (-48.5, 55) -> (-63.2, 55) construction
  line L3 (-63.2, 55) -> (-63.2, 31.4) construction
  line L4 (-63.2, 31.4) -> (-48.5, 31.4) construction
  line L5 (-48.5, 31.4) -> (-48.5, 55) construction
  line L6 (50, 43.2) -> (50, 55) construction
  line L7 (63.2, 55) -> (48.5, 55) construction
  line L8 (48.5, 55) -> (48.5, 31.4) construction
  line L9 (48.5, 31.4) -> (63.2, 31.4) construction
  line L10 (63.2, 31.4) -> (63.2, 55) construction
  line L11 (50, -55) -> (50, 55) construction
  line L12 (63.2, -31.4) -> (48.5, -31.4) construction
  line L13 (48.5, -31.4) -> (48.5, -55) construction
  line L14 (48.5, -55) -> (63.2, -55) construction
  line L15 (63.2, -55) -> (63.2, -31.4) construction
  line L16 (-50, 55) -> (-50, -55) construction
  line L17 (-48.5, -31.4) -> (-63.2, -31.4) construction
  line L18 (-63.2, -31.4) -> (-63.2, -55) construction
  line L19 (-63.2, -55) -> (-48.5, -55) construction
  line L20 (-48.5, -55) -> (-48.5, -31.4) construction
  line L21 (-50, 55) -> (-63.2, 55) construction
  line L22 (-50, 55) -> (-63.2, 55) construction
  circle A0 centre (-56.6, 47.4) radius 1.95
  line L23 (63.2, 55) -> (50, 55) construction
  circle A1 centre (56.6, 47.4) radius 1.95
  line L24 (63.2, -55) -> (50, -55) construction
  line L25 (-63.2, -55) -> (-50, -55) construction
  circle A2 centre (56.6, -47.4) radius 1.95
  circle A3 centre (-56.6, -47.4) radius 1.95
  line L26 (63.2, -31.4) -> (50, -31.4) construction
  line L27 (-50, -31.4) -> (-63.2, -31.4) construction
  line L28 (-50, 55) -> (-63.2, 55) projected
  line L29 (50, -55) -> (63.2, -55) construction
  point P0 (0, 0)
  dimension "d79" = 3.9
  dimension "d81" = 3.9
  dimension "d84" = 3.9
  dimension "d85" = 3.9
extrude "Wyciągnięcie proste6" add sketch "Szkic6" along normal blind 3
fillet "Zaokrąglenie4" radius 1 36 edges at (-48.5, 0, 49.1) (-49.25, 0, 43.2) (-48.5, -7.4, 43.2) (-48.5, -7.4, 55) (-49.25, 0, 55) (48.5, 0, 49.1) (48.5, -7.4, 43.2) (49.25, 0, 43.2) (48.5, -7.4, 55) (49.25, 0, 55) (48.5, 0, -49.1) (48.5, -7.4, -55) (49.25, 0, -55) (-48.5, -7.4, -55) (-49.25, 0, -55) (-48.5, 0, -49.1) (-48.5, -7.4, -43.2) (-49.25, 0, -43.2) (-55.85, -14.8, -43.2) (-63.2, -14.8, -49.1) (-55.85, -14.8, -55) (-55.85, -14.8, 55) (-48.5, -14.8, 49.1) (-55.85, -14.8, 43.2) (-63.2, -14.8, 49.1) (48.5, -14.8, 49.1) (55.85, -14.8, 55) (63.2, -14.8, 49.1) (55.85, -14.8, 43.2) (55.85, -14.8, -55) (49.25, 0, -43.2) (48.5, -7.4, -43.2) (55.85, -14.8, -43.2) (48.5, -14.8, -49.1) (63.2, -14.8, -49.1) (-48.5, -14.8, -49.1)
equation "\"d81\" = d79"
equation "\"d84\" = d79"
equation "\"d85\" = d79"
properties part number "kadlub"
